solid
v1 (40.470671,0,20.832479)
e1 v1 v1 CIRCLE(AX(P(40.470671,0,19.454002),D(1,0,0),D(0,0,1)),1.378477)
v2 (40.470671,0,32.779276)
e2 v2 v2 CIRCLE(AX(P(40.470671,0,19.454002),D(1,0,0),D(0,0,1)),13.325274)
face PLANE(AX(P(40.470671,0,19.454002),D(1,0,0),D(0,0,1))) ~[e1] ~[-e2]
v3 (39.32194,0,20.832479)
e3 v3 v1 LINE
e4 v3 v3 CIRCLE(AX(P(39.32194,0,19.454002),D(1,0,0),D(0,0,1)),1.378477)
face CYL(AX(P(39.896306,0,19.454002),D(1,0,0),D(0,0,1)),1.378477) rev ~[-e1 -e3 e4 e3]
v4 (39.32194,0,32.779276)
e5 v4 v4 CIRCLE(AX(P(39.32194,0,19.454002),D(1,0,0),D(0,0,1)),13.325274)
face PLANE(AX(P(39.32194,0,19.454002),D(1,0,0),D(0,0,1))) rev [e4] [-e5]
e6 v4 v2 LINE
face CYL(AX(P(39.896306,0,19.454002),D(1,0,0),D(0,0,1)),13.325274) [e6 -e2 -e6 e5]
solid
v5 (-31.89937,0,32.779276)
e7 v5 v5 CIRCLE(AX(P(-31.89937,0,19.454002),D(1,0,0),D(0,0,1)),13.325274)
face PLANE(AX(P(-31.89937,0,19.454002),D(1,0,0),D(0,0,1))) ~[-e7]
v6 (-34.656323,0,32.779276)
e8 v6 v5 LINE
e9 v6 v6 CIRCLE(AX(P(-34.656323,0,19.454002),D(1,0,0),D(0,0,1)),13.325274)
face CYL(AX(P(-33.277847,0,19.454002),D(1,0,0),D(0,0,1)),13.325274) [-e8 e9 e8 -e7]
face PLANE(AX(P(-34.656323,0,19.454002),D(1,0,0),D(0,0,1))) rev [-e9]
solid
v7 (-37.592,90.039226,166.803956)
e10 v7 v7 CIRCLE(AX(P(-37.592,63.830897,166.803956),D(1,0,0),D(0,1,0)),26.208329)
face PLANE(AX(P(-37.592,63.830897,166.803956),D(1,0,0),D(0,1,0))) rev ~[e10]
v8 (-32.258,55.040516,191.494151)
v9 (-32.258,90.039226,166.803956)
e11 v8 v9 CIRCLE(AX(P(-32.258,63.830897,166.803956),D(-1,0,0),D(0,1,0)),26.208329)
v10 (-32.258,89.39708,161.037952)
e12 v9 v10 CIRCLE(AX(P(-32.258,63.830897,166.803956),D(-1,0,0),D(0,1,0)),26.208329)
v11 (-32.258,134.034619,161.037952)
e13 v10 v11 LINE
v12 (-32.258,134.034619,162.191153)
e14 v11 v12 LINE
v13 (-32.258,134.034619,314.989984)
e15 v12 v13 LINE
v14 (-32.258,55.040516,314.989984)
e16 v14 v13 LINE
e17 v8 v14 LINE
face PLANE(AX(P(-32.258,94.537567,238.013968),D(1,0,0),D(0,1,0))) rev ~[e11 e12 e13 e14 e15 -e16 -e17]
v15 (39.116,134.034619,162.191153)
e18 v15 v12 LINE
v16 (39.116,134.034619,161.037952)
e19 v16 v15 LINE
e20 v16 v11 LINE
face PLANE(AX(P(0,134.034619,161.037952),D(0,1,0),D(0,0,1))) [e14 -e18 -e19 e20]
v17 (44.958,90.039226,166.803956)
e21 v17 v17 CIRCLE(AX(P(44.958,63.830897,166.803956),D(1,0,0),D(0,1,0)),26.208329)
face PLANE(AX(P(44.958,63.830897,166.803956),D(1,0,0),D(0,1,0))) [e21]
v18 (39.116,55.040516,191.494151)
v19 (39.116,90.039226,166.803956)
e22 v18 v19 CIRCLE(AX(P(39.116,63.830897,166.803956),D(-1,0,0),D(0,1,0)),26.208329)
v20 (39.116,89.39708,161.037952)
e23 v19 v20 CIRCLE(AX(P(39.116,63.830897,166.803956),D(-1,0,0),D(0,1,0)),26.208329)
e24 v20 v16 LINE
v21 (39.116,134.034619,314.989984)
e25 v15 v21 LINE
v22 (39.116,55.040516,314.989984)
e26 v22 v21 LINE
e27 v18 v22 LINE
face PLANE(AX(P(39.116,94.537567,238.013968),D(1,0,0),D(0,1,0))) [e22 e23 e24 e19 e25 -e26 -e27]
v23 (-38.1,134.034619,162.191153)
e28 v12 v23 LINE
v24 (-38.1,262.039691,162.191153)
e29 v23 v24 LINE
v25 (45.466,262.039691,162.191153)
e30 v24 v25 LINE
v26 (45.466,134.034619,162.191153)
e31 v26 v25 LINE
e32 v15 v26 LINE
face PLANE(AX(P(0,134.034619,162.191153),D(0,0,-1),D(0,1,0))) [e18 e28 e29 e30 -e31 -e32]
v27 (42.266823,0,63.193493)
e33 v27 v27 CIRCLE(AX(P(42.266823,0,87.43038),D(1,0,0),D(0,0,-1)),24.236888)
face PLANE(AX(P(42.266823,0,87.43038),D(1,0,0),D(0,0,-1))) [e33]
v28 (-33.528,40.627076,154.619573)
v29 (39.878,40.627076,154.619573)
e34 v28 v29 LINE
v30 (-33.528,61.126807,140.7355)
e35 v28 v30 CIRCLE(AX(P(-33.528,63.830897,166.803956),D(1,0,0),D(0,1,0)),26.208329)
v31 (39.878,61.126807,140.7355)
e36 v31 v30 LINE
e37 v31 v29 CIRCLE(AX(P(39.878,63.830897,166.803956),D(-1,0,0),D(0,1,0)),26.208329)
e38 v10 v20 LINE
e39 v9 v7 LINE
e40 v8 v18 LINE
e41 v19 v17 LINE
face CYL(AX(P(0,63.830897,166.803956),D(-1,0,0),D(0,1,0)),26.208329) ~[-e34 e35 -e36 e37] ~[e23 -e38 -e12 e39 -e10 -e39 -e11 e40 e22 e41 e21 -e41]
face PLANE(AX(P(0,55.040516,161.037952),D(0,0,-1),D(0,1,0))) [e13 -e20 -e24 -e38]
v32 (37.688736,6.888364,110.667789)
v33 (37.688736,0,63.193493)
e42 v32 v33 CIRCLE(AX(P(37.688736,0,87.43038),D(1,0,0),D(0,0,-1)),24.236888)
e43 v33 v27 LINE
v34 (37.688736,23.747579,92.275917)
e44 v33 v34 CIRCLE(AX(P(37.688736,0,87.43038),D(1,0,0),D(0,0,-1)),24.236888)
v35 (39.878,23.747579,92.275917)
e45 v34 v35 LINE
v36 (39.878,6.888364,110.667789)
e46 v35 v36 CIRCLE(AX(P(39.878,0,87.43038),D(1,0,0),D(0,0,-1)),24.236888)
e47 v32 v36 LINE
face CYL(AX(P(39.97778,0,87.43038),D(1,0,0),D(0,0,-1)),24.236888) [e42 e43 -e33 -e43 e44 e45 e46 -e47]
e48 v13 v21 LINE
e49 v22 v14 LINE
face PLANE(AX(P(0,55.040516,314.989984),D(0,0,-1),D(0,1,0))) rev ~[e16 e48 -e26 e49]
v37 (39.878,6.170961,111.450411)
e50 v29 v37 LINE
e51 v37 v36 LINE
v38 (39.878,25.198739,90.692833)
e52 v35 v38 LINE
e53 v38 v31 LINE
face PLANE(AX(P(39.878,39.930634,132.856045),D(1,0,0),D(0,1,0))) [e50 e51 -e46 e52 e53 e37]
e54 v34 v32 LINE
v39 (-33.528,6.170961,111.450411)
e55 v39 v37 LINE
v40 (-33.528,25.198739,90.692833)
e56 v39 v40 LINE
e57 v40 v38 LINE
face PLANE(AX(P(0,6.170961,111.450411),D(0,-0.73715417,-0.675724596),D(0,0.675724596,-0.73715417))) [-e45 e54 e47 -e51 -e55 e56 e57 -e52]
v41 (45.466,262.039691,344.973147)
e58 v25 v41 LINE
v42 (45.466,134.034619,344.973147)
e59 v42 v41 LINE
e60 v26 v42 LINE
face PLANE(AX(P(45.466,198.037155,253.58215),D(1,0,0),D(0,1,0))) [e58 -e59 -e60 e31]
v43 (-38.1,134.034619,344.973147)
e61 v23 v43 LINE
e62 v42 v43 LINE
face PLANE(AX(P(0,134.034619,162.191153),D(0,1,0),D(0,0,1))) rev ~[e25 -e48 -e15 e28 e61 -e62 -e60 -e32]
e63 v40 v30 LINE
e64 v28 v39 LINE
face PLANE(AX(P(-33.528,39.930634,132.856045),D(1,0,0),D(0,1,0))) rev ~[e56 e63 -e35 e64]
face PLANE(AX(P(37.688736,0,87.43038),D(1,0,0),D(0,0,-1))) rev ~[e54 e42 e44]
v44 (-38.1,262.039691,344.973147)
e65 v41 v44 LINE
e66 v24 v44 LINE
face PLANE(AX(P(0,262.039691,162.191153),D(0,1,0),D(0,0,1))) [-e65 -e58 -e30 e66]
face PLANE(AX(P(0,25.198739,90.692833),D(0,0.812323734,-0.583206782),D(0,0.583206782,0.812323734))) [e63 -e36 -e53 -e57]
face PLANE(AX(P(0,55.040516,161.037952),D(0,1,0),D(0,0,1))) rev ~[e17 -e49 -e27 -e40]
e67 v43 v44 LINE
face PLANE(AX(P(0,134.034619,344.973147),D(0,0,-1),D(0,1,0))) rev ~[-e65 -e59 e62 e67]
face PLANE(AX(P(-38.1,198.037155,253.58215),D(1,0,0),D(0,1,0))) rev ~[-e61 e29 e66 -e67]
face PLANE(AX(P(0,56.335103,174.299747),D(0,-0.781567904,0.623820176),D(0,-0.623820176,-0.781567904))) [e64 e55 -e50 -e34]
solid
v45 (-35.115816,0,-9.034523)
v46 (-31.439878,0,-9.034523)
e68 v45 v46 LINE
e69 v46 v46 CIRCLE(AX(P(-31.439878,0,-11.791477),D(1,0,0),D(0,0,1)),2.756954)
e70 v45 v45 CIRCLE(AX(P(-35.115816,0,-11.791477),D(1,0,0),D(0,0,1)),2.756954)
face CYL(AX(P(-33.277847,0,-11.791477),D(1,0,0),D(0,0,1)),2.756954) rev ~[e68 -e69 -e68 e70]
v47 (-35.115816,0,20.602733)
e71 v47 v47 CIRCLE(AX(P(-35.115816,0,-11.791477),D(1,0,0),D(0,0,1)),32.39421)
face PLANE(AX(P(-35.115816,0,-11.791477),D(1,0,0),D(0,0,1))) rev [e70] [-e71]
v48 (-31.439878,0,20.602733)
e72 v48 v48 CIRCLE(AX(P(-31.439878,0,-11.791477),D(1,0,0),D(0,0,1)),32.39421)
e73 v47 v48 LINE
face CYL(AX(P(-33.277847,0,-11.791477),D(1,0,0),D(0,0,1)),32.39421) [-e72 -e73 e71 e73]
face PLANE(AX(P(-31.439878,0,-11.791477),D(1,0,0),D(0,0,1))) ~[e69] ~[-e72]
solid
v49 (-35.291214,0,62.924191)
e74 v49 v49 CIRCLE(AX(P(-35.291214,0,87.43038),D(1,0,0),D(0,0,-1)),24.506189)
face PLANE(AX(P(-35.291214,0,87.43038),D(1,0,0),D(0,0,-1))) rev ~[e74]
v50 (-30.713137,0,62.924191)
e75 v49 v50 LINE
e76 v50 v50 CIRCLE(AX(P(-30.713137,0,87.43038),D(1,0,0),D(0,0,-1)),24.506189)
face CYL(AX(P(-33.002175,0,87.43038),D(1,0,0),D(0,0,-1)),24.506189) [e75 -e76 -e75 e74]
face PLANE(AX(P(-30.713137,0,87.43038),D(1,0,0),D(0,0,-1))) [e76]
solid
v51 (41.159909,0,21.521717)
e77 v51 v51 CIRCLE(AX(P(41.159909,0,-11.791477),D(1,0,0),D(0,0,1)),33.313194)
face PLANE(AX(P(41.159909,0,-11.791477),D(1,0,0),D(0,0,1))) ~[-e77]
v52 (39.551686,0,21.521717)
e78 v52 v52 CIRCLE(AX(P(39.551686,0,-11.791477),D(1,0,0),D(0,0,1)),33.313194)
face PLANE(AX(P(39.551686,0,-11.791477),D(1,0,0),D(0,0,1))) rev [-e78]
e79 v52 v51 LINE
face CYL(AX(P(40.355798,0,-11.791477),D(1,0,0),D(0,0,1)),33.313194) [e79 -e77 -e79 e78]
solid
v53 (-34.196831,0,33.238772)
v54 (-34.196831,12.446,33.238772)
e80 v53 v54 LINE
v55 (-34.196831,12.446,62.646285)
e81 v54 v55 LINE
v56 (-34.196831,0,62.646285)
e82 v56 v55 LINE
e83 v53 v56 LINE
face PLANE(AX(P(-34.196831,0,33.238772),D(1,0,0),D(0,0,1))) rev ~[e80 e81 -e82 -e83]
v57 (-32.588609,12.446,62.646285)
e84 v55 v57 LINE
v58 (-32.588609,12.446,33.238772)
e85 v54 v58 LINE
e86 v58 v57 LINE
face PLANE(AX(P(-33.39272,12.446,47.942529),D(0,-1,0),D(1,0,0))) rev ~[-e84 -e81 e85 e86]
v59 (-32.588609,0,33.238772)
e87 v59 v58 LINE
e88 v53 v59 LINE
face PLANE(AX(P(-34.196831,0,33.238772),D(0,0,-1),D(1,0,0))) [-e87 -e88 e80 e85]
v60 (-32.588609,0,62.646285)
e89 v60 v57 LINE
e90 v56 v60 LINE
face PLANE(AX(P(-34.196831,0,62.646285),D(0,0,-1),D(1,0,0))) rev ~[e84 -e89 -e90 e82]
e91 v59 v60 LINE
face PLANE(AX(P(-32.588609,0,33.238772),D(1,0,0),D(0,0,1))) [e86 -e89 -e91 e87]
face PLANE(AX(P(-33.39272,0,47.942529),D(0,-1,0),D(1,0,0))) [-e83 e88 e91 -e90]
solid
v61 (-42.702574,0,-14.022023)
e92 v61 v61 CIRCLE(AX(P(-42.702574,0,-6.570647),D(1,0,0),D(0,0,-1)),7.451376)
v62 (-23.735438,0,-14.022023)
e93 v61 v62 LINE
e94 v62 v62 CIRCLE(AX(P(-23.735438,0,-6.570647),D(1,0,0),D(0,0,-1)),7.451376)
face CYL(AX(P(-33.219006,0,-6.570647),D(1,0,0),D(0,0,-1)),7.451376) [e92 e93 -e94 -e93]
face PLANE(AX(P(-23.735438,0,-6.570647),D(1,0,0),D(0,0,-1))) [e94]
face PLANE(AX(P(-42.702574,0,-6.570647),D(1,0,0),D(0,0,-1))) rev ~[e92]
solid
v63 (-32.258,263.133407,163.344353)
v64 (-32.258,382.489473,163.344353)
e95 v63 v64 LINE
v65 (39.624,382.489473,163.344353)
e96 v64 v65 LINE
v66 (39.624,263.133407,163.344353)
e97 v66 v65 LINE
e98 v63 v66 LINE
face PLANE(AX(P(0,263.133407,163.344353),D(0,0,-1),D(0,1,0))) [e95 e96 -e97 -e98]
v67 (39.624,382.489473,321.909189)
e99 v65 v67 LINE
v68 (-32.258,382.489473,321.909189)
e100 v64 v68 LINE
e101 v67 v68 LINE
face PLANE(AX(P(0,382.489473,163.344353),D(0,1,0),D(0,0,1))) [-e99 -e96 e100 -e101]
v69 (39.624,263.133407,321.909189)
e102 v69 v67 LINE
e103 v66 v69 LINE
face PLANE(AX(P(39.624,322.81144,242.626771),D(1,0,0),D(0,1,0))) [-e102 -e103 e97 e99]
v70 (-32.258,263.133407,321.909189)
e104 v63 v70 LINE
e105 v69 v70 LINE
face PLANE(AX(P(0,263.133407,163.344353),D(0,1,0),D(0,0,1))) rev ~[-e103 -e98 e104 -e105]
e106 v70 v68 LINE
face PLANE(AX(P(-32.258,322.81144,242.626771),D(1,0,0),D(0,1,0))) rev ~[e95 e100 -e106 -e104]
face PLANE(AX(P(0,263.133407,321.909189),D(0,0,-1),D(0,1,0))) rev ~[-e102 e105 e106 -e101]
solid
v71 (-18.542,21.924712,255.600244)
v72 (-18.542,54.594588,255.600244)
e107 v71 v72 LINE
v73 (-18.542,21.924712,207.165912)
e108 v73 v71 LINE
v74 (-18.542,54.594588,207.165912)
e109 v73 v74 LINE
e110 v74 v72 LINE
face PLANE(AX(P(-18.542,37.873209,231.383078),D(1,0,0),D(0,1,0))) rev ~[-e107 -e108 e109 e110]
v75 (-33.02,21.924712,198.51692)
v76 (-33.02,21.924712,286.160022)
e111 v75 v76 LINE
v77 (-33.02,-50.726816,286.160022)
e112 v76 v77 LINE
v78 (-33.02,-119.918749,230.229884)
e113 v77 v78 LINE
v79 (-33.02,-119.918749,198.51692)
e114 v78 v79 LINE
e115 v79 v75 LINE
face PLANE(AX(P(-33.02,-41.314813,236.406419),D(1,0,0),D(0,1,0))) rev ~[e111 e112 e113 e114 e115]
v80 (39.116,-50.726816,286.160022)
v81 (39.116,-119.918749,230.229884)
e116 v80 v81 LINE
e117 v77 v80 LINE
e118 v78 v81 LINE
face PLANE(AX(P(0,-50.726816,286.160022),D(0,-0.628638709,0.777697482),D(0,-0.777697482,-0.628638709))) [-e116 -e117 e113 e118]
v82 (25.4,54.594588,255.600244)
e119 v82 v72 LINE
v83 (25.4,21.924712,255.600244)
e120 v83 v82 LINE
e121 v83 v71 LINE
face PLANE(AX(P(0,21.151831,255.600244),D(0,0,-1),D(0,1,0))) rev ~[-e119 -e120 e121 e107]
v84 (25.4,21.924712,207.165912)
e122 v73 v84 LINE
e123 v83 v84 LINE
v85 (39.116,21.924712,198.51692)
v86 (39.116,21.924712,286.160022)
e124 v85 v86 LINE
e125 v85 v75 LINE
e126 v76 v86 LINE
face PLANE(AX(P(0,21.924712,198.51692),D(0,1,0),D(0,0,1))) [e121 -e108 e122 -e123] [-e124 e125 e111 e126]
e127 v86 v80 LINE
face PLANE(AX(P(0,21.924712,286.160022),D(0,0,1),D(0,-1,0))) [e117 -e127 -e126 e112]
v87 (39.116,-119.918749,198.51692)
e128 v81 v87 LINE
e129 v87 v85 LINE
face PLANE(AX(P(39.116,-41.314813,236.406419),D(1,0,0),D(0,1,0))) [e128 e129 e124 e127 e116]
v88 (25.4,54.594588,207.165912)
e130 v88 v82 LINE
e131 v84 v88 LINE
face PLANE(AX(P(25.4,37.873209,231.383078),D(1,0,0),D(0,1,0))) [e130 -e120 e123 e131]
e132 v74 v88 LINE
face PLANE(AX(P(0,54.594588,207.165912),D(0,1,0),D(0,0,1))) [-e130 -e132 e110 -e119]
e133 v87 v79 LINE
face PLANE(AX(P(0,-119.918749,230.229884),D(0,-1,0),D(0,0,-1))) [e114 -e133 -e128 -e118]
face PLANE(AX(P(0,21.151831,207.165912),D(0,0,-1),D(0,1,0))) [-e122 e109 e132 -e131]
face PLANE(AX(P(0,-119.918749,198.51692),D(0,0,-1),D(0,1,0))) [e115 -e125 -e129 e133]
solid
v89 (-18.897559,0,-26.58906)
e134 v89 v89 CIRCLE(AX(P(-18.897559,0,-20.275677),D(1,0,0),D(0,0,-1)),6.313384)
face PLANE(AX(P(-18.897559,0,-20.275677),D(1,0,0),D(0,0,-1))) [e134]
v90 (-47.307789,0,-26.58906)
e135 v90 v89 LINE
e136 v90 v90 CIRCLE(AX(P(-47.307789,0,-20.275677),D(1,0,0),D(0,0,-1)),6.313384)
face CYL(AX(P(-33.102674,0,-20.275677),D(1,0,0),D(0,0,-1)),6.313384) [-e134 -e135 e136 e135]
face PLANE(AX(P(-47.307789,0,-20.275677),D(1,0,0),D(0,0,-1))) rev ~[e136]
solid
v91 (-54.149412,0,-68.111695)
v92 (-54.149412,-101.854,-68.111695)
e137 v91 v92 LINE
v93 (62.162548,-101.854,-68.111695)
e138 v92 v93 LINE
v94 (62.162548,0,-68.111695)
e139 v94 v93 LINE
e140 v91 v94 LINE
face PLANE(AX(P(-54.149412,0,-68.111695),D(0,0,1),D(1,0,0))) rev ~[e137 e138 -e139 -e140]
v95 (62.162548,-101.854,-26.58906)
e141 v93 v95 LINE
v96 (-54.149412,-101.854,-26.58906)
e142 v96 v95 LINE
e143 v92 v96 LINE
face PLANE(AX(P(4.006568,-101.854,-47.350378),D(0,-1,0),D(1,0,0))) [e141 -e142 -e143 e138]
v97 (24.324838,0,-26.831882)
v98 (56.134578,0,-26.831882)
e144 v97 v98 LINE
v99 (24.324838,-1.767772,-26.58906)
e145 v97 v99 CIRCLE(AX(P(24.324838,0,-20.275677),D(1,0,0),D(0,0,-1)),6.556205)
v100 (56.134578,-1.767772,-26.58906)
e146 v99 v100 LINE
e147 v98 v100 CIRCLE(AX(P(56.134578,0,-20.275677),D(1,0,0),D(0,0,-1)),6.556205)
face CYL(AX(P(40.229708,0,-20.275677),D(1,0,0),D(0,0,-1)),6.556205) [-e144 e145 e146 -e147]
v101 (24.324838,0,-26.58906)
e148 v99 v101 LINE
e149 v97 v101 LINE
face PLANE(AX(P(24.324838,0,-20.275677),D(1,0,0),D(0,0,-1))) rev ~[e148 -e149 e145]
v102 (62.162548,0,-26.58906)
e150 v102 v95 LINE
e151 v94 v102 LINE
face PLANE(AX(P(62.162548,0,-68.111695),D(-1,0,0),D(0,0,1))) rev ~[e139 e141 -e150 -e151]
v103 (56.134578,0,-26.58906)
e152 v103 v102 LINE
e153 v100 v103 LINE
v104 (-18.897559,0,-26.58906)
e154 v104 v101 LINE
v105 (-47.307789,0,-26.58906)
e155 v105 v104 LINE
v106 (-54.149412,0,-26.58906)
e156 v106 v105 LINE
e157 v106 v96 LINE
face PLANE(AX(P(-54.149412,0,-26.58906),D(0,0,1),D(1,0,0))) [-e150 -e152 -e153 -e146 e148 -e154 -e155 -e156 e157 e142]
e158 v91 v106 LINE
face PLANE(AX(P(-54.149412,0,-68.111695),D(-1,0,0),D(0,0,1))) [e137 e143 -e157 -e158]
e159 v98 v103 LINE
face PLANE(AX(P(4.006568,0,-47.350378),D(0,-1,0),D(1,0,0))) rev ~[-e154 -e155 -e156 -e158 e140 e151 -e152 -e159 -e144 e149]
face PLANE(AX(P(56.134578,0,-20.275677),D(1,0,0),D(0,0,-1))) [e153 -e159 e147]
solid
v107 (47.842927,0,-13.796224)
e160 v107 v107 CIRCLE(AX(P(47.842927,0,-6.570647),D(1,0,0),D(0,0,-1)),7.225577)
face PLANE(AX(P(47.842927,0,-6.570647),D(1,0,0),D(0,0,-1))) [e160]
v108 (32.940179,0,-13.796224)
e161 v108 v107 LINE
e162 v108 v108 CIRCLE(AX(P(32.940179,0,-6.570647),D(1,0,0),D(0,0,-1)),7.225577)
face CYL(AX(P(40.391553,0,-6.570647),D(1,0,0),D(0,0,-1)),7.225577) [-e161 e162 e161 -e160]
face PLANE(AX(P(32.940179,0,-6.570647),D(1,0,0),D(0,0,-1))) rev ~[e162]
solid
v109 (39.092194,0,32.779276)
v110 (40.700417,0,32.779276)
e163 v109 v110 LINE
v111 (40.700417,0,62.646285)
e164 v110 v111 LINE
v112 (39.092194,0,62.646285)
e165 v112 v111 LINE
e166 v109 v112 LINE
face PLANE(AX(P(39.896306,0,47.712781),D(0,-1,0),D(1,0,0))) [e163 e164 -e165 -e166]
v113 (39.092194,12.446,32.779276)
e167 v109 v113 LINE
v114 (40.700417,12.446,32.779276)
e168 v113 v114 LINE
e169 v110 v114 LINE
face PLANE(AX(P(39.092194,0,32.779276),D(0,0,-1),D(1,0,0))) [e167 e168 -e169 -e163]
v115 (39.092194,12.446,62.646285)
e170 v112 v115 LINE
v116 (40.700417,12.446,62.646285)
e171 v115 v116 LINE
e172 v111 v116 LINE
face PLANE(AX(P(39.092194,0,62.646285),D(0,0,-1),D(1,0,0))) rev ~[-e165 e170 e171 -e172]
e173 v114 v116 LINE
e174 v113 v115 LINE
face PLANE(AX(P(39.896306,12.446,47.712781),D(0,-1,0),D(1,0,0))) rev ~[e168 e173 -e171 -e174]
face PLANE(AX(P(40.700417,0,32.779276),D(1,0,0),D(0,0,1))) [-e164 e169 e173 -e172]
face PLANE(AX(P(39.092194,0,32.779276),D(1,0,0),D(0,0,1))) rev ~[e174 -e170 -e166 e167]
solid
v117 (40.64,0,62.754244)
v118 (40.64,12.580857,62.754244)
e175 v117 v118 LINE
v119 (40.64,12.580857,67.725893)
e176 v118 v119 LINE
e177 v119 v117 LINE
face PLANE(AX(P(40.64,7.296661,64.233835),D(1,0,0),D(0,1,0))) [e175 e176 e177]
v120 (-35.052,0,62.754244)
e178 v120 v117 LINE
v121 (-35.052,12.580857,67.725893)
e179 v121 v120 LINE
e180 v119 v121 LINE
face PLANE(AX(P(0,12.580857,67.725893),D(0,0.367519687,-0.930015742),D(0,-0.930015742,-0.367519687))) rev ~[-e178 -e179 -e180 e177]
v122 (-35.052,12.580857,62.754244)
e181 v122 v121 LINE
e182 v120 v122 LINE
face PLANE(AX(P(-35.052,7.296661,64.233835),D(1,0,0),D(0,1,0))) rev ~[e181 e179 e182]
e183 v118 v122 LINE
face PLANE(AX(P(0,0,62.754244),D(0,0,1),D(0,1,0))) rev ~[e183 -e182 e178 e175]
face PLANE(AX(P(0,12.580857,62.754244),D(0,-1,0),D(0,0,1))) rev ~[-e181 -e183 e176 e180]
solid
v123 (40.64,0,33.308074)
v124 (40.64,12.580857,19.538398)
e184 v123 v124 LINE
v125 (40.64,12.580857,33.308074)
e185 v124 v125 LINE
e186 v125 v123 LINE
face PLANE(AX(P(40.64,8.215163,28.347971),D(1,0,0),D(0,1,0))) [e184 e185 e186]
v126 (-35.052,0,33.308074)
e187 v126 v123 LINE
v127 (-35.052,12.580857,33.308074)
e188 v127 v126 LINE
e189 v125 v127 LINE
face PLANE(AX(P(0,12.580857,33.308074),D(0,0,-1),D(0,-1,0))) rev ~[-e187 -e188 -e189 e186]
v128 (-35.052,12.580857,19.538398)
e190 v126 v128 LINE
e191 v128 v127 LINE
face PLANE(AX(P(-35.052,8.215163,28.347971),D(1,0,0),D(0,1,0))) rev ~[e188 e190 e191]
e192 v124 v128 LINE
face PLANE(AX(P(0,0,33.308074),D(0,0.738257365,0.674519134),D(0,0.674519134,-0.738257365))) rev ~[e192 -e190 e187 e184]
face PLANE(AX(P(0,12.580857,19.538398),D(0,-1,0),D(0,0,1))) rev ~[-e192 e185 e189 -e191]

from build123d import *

# Parameters (mm, degrees)
F0_W           = 116.3119599223
F0_H           = 41.522635147
F1_DEPTH       = 101.854
F2_W           = 31.8097397685
F2_H           = 6.5562054515
F2_W_2         = 28.4102298319
F2_H_2         = 6.3133835793
F4_W           = 18.9671367407
F4_H           = 7.4513759464
F4_W_2         = 14.9027481675
F4_H_2         = 7.2255767882
F6_W           = 3.6759376526
F6_H           = 29.6372557059
F6_W_2         = 1.608222723
F6_H_2         = 33.3131942898
F8_W           = 2.7569532394
F8_H           = 13.3252739906
F8_W_2         = 1.1487305164
F8_H_2         = 11.946797371
F10_W          = 1.608222723
F10_H          = 29.4075123966
F11_DEPTH      = 12.446
F10_H_2        = 29.8670083284
F12_W          = 4.578076303
F12_H          = 24.5061889291
F12_W_2        = 4.5780874789
F12_H_2        = 24.2368876934
F15_DEPTH      = 35.052
F15_DEPTH_BACK = 40.64
F17_DEPTH      = 39.878
F17_DEPTH_BACK = 33.528
F18_R          = 26.2083289981
F19_DEPTH      = 44.958
F19_DEPTH_BACK = 37.592
F20_W          = 78.9941027761
F20_H          = 153.9520323277
F21_DEPTH      = 39.116
F21_DEPTH_BACK = 32.258
F22_W          = 128.0050724745
F22_H          = 182.7819943428
F23_DEPTH      = 45.466
F23_DEPTH_BACK = 38.1
F24_W          = 119.3560659885
F24_H          = 158.5648357868
F25_DEPTH      = 39.624
F25_DEPTH_BACK = 32.258
F26_W          = 33.4427561611
F26_H          = 48.4343320131
F27_DEPTH      = 25.4
F27_DEPTH_BACK = 18.542
F29_DEPTH      = 39.116
F29_DEPTH_BACK = 33.02


with BuildPart() as f1:
    # F0 (on Front) → F1 (new body)
    with BuildSketch(Plane.XZ):
        with Locations((4.0065683424, -47.3503777757)):
            Rectangle(F0_W, F0_H)
    extrude(amount=F1_DEPTH)

    # F2 (on Front) → F3 (revolve)
    with BuildSketch(Plane.XZ):
        with Locations((40.2297079563, -23.5537793487)):
            Rectangle(F2_W, F2_H)
        with Locations((-33.1026744097, -23.4323684126)):
            Rectangle(F2_W_2, F2_H_2)
    revolve(axis=Axis((-33.1026744097, 0, -20.275676623), (1, 0, 0)))


with BuildPart() as f5:
    # F4 (on Front) → F5 (revolve)
    with BuildSketch(Plane.XZ):
        with Locations((-33.2190059125, -10.2963354439)):
            Rectangle(F4_W, F4_H)
    revolve(axis=Axis((-33.2190059125, 0, -6.5706474707), (1, 0, 0)))


with BuildPart() as f5b:
    # F4 (on Front) → F5, piece 2 (revolve)
    with BuildSketch(Plane.XZ):
        with Locations((40.3915531933, -10.1834358647)):
            Rectangle(F4_W_2, F4_H_2)
    revolve(axis=Axis((-33.2190059125, 0, -6.5706474707), (1, 0, 0)))


with BuildPart() as f7:
    # F6 (on Front) → F7 (revolve)
    with BuildSketch(Plane.XZ):
        with Locations((-33.2778468728, 5.7841050439)):
            Rectangle(F6_W, F6_H)
    revolve(axis=Axis((40.355797857, 0, -11.7914769799), (1, 0, 0)))


with BuildPart() as f7b:
    # F6 (on Front) → F7, piece 2 (revolve)
    with BuildSketch(Plane.XZ):
        with Locations((40.355797857, 4.8651201651)):
            Rectangle(F6_W_2, F6_H_2)
    revolve(axis=Axis((40.355797857, 0, -11.7914769799), (1, 0, 0)))


with BuildPart() as f9:
    # F8 (on Front) → F9 (revolve)
    with BuildSketch(Plane.XZ):
        with Locations((-33.2778468728, 26.1166393757)):
            Rectangle(F8_W, F8_H)
    revolve(axis=Axis((-33.2778468728, 0, 19.4540023804), (1, 0, 0)))


with BuildPart() as f9b:
    # F8 (on Front) → F9, piece 2 (revolve)
    with BuildSketch(Plane.XZ):
        with Locations((39.8963056505, 26.8058776855)):
            Rectangle(F8_W_2, F8_H_2)
    revolve(axis=Axis((-33.2778468728, 0, 19.4540023804), (1, 0, 0)))


with BuildPart() as f11:
    # F10 (on Front) → F11 (new body)
    with BuildSketch(Plane.XZ):
        with Locations((-33.3927199244, 47.9425285012)):
            Rectangle(F10_W, F10_H)
    extrude(amount=-F11_DEPTH)


with BuildPart() as f11b:
    # F10 (on Front) → F11, piece 2 (new body)
    with BuildSketch(Plane.XZ):
        with Locations((39.8963056505, 47.7127805352)):
            Rectangle(F10_W, F10_H_2)
    extrude(amount=-F11_DEPTH)


with BuildPart() as f13:
    # F12 (on Front) → F13 (revolve)
    with BuildSketch(Plane.XZ):
        with Locations((-33.0021753907, 75.1772858202)):
            Rectangle(F12_W, F12_H)
    revolve(axis=Axis((-33.0021753907, 0, 87.4303802848), (1, 0, 0)))


with BuildPart() as f13b:
    # F12 (on Front) → F13, piece 2 (revolve)
    with BuildSketch(Plane.XZ):
        with Locations((39.9777796119, 75.3119364381)):
            Rectangle(F12_W_2, F12_H_2)
    revolve(axis=Axis((-33.0021753907, 0, 87.4303802848), (1, 0, 0)))

    # F16 (on Right) → F17 (join, two sides)
    with BuildSketch(Plane.YZ) as f17_sk:
        Polygon((56.3351027668, 174.2997467518), (6.1709606089, 111.4504113793), (25.198739022, 90.692833066), (73.6330896616, 158.154964447), align=None)
    extrude(amount=F17_DEPTH)
    extrude(f17_sk.sketch, amount=-F17_DEPTH_BACK)

    # F18 (on Right) → F19 (join, two sides)
    with BuildSketch(Plane.YZ) as f19_sk:
        with Locations((63.830897212, 166.8039560318)):
            Circle(F18_R)
    extrude(amount=F19_DEPTH)
    extrude(f19_sk.sketch, amount=-F19_DEPTH_BACK)

    # F20 (on Right) → F21 (join, two sides)
    with BuildSketch(Plane.YZ) as f21_sk:
        with Locations((94.5375673473, 238.0139678717)):
            Rectangle(F20_W, F20_H)
    extrude(amount=F21_DEPTH)
    extrude(f21_sk.sketch, amount=-F21_DEPTH_BACK)

    # F22 (on Right) → F23 (join, two sides)
    with BuildSketch(Plane.YZ) as f23_sk:
        with Locations((198.0371549726, 253.582149744)):
            Rectangle(F22_W, F22_H)
    extrude(amount=F23_DEPTH)
    extrude(f23_sk.sketch, amount=-F23_DEPTH_BACK)


with BuildPart() as f15:
    # F14 (on Right) → F15 (new body, two sides)
    with BuildSketch(Plane.YZ) as f15_sk:
        Polygon((12.5808566809, 33.3080738783), (0, 33.3080738783), (12.5808566809, 19.538397619), align=None)
    extrude(amount=-F15_DEPTH)
    extrude(f15_sk.sketch, amount=F15_DEPTH_BACK)


with BuildPart() as f15b:
    # F14 (on Right) → F15, piece 2 (new body, two sides)
    with BuildSketch(Plane.YZ) as f15_2_sk:
        Polygon((12.5808566809, 67.7258933343), (0, 62.7542436123), (12.5808566809, 62.7542436123), align=None)
    extrude(amount=-F15_DEPTH)
    extrude(f15_2_sk.sketch, amount=F15_DEPTH_BACK)


with BuildPart() as f25:
    # F24 (on Right) → F25 (new body, two sides)
    with BuildSketch(Plane.YZ) as f25_sk:
        with Locations((322.8114396334, 242.6267713308)):
            Rectangle(F24_W, F24_H)
    extrude(amount=F25_DEPTH)
    extrude(f25_sk.sketch, amount=-F25_DEPTH_BACK)


with BuildPart() as f27:
    # F26 (on Right) → F27 (new body, two sides)
    with BuildSketch(Plane.YZ) as f27_sk:
        with Locations((37.8732094541, 231.3830778003)):
            Rectangle(F26_W, F26_H)
    extrude(amount=F27_DEPTH)
    extrude(f27_sk.sketch, amount=-F27_DEPTH_BACK)

    # F28 (on Right) → F29 (join, two sides)
    with BuildSketch(Plane.YZ) as f29_sk:
        Polygon((21.9247117639, 198.5169202089), (21.9247117639, 255.6002438068), (21.9247117639, 286.1600220203), (-50.7268160582, 286.1600220203), (-119.9187487364, 230.2298843861), (-119.9187487364, 198.5169202089), align=None)
    extrude(amount=F29_DEPTH)
    extrude(f29_sk.sketch, amount=-F29_DEPTH_BACK)


solid = Compound([f1.part, f5.part, f5b.part, f7.part, f7b.part, f9.part, f9b.part, f11.part, f11b.part, f13.part, f13b.part, f15.part, f15b.part, f25.part, f27.part])
